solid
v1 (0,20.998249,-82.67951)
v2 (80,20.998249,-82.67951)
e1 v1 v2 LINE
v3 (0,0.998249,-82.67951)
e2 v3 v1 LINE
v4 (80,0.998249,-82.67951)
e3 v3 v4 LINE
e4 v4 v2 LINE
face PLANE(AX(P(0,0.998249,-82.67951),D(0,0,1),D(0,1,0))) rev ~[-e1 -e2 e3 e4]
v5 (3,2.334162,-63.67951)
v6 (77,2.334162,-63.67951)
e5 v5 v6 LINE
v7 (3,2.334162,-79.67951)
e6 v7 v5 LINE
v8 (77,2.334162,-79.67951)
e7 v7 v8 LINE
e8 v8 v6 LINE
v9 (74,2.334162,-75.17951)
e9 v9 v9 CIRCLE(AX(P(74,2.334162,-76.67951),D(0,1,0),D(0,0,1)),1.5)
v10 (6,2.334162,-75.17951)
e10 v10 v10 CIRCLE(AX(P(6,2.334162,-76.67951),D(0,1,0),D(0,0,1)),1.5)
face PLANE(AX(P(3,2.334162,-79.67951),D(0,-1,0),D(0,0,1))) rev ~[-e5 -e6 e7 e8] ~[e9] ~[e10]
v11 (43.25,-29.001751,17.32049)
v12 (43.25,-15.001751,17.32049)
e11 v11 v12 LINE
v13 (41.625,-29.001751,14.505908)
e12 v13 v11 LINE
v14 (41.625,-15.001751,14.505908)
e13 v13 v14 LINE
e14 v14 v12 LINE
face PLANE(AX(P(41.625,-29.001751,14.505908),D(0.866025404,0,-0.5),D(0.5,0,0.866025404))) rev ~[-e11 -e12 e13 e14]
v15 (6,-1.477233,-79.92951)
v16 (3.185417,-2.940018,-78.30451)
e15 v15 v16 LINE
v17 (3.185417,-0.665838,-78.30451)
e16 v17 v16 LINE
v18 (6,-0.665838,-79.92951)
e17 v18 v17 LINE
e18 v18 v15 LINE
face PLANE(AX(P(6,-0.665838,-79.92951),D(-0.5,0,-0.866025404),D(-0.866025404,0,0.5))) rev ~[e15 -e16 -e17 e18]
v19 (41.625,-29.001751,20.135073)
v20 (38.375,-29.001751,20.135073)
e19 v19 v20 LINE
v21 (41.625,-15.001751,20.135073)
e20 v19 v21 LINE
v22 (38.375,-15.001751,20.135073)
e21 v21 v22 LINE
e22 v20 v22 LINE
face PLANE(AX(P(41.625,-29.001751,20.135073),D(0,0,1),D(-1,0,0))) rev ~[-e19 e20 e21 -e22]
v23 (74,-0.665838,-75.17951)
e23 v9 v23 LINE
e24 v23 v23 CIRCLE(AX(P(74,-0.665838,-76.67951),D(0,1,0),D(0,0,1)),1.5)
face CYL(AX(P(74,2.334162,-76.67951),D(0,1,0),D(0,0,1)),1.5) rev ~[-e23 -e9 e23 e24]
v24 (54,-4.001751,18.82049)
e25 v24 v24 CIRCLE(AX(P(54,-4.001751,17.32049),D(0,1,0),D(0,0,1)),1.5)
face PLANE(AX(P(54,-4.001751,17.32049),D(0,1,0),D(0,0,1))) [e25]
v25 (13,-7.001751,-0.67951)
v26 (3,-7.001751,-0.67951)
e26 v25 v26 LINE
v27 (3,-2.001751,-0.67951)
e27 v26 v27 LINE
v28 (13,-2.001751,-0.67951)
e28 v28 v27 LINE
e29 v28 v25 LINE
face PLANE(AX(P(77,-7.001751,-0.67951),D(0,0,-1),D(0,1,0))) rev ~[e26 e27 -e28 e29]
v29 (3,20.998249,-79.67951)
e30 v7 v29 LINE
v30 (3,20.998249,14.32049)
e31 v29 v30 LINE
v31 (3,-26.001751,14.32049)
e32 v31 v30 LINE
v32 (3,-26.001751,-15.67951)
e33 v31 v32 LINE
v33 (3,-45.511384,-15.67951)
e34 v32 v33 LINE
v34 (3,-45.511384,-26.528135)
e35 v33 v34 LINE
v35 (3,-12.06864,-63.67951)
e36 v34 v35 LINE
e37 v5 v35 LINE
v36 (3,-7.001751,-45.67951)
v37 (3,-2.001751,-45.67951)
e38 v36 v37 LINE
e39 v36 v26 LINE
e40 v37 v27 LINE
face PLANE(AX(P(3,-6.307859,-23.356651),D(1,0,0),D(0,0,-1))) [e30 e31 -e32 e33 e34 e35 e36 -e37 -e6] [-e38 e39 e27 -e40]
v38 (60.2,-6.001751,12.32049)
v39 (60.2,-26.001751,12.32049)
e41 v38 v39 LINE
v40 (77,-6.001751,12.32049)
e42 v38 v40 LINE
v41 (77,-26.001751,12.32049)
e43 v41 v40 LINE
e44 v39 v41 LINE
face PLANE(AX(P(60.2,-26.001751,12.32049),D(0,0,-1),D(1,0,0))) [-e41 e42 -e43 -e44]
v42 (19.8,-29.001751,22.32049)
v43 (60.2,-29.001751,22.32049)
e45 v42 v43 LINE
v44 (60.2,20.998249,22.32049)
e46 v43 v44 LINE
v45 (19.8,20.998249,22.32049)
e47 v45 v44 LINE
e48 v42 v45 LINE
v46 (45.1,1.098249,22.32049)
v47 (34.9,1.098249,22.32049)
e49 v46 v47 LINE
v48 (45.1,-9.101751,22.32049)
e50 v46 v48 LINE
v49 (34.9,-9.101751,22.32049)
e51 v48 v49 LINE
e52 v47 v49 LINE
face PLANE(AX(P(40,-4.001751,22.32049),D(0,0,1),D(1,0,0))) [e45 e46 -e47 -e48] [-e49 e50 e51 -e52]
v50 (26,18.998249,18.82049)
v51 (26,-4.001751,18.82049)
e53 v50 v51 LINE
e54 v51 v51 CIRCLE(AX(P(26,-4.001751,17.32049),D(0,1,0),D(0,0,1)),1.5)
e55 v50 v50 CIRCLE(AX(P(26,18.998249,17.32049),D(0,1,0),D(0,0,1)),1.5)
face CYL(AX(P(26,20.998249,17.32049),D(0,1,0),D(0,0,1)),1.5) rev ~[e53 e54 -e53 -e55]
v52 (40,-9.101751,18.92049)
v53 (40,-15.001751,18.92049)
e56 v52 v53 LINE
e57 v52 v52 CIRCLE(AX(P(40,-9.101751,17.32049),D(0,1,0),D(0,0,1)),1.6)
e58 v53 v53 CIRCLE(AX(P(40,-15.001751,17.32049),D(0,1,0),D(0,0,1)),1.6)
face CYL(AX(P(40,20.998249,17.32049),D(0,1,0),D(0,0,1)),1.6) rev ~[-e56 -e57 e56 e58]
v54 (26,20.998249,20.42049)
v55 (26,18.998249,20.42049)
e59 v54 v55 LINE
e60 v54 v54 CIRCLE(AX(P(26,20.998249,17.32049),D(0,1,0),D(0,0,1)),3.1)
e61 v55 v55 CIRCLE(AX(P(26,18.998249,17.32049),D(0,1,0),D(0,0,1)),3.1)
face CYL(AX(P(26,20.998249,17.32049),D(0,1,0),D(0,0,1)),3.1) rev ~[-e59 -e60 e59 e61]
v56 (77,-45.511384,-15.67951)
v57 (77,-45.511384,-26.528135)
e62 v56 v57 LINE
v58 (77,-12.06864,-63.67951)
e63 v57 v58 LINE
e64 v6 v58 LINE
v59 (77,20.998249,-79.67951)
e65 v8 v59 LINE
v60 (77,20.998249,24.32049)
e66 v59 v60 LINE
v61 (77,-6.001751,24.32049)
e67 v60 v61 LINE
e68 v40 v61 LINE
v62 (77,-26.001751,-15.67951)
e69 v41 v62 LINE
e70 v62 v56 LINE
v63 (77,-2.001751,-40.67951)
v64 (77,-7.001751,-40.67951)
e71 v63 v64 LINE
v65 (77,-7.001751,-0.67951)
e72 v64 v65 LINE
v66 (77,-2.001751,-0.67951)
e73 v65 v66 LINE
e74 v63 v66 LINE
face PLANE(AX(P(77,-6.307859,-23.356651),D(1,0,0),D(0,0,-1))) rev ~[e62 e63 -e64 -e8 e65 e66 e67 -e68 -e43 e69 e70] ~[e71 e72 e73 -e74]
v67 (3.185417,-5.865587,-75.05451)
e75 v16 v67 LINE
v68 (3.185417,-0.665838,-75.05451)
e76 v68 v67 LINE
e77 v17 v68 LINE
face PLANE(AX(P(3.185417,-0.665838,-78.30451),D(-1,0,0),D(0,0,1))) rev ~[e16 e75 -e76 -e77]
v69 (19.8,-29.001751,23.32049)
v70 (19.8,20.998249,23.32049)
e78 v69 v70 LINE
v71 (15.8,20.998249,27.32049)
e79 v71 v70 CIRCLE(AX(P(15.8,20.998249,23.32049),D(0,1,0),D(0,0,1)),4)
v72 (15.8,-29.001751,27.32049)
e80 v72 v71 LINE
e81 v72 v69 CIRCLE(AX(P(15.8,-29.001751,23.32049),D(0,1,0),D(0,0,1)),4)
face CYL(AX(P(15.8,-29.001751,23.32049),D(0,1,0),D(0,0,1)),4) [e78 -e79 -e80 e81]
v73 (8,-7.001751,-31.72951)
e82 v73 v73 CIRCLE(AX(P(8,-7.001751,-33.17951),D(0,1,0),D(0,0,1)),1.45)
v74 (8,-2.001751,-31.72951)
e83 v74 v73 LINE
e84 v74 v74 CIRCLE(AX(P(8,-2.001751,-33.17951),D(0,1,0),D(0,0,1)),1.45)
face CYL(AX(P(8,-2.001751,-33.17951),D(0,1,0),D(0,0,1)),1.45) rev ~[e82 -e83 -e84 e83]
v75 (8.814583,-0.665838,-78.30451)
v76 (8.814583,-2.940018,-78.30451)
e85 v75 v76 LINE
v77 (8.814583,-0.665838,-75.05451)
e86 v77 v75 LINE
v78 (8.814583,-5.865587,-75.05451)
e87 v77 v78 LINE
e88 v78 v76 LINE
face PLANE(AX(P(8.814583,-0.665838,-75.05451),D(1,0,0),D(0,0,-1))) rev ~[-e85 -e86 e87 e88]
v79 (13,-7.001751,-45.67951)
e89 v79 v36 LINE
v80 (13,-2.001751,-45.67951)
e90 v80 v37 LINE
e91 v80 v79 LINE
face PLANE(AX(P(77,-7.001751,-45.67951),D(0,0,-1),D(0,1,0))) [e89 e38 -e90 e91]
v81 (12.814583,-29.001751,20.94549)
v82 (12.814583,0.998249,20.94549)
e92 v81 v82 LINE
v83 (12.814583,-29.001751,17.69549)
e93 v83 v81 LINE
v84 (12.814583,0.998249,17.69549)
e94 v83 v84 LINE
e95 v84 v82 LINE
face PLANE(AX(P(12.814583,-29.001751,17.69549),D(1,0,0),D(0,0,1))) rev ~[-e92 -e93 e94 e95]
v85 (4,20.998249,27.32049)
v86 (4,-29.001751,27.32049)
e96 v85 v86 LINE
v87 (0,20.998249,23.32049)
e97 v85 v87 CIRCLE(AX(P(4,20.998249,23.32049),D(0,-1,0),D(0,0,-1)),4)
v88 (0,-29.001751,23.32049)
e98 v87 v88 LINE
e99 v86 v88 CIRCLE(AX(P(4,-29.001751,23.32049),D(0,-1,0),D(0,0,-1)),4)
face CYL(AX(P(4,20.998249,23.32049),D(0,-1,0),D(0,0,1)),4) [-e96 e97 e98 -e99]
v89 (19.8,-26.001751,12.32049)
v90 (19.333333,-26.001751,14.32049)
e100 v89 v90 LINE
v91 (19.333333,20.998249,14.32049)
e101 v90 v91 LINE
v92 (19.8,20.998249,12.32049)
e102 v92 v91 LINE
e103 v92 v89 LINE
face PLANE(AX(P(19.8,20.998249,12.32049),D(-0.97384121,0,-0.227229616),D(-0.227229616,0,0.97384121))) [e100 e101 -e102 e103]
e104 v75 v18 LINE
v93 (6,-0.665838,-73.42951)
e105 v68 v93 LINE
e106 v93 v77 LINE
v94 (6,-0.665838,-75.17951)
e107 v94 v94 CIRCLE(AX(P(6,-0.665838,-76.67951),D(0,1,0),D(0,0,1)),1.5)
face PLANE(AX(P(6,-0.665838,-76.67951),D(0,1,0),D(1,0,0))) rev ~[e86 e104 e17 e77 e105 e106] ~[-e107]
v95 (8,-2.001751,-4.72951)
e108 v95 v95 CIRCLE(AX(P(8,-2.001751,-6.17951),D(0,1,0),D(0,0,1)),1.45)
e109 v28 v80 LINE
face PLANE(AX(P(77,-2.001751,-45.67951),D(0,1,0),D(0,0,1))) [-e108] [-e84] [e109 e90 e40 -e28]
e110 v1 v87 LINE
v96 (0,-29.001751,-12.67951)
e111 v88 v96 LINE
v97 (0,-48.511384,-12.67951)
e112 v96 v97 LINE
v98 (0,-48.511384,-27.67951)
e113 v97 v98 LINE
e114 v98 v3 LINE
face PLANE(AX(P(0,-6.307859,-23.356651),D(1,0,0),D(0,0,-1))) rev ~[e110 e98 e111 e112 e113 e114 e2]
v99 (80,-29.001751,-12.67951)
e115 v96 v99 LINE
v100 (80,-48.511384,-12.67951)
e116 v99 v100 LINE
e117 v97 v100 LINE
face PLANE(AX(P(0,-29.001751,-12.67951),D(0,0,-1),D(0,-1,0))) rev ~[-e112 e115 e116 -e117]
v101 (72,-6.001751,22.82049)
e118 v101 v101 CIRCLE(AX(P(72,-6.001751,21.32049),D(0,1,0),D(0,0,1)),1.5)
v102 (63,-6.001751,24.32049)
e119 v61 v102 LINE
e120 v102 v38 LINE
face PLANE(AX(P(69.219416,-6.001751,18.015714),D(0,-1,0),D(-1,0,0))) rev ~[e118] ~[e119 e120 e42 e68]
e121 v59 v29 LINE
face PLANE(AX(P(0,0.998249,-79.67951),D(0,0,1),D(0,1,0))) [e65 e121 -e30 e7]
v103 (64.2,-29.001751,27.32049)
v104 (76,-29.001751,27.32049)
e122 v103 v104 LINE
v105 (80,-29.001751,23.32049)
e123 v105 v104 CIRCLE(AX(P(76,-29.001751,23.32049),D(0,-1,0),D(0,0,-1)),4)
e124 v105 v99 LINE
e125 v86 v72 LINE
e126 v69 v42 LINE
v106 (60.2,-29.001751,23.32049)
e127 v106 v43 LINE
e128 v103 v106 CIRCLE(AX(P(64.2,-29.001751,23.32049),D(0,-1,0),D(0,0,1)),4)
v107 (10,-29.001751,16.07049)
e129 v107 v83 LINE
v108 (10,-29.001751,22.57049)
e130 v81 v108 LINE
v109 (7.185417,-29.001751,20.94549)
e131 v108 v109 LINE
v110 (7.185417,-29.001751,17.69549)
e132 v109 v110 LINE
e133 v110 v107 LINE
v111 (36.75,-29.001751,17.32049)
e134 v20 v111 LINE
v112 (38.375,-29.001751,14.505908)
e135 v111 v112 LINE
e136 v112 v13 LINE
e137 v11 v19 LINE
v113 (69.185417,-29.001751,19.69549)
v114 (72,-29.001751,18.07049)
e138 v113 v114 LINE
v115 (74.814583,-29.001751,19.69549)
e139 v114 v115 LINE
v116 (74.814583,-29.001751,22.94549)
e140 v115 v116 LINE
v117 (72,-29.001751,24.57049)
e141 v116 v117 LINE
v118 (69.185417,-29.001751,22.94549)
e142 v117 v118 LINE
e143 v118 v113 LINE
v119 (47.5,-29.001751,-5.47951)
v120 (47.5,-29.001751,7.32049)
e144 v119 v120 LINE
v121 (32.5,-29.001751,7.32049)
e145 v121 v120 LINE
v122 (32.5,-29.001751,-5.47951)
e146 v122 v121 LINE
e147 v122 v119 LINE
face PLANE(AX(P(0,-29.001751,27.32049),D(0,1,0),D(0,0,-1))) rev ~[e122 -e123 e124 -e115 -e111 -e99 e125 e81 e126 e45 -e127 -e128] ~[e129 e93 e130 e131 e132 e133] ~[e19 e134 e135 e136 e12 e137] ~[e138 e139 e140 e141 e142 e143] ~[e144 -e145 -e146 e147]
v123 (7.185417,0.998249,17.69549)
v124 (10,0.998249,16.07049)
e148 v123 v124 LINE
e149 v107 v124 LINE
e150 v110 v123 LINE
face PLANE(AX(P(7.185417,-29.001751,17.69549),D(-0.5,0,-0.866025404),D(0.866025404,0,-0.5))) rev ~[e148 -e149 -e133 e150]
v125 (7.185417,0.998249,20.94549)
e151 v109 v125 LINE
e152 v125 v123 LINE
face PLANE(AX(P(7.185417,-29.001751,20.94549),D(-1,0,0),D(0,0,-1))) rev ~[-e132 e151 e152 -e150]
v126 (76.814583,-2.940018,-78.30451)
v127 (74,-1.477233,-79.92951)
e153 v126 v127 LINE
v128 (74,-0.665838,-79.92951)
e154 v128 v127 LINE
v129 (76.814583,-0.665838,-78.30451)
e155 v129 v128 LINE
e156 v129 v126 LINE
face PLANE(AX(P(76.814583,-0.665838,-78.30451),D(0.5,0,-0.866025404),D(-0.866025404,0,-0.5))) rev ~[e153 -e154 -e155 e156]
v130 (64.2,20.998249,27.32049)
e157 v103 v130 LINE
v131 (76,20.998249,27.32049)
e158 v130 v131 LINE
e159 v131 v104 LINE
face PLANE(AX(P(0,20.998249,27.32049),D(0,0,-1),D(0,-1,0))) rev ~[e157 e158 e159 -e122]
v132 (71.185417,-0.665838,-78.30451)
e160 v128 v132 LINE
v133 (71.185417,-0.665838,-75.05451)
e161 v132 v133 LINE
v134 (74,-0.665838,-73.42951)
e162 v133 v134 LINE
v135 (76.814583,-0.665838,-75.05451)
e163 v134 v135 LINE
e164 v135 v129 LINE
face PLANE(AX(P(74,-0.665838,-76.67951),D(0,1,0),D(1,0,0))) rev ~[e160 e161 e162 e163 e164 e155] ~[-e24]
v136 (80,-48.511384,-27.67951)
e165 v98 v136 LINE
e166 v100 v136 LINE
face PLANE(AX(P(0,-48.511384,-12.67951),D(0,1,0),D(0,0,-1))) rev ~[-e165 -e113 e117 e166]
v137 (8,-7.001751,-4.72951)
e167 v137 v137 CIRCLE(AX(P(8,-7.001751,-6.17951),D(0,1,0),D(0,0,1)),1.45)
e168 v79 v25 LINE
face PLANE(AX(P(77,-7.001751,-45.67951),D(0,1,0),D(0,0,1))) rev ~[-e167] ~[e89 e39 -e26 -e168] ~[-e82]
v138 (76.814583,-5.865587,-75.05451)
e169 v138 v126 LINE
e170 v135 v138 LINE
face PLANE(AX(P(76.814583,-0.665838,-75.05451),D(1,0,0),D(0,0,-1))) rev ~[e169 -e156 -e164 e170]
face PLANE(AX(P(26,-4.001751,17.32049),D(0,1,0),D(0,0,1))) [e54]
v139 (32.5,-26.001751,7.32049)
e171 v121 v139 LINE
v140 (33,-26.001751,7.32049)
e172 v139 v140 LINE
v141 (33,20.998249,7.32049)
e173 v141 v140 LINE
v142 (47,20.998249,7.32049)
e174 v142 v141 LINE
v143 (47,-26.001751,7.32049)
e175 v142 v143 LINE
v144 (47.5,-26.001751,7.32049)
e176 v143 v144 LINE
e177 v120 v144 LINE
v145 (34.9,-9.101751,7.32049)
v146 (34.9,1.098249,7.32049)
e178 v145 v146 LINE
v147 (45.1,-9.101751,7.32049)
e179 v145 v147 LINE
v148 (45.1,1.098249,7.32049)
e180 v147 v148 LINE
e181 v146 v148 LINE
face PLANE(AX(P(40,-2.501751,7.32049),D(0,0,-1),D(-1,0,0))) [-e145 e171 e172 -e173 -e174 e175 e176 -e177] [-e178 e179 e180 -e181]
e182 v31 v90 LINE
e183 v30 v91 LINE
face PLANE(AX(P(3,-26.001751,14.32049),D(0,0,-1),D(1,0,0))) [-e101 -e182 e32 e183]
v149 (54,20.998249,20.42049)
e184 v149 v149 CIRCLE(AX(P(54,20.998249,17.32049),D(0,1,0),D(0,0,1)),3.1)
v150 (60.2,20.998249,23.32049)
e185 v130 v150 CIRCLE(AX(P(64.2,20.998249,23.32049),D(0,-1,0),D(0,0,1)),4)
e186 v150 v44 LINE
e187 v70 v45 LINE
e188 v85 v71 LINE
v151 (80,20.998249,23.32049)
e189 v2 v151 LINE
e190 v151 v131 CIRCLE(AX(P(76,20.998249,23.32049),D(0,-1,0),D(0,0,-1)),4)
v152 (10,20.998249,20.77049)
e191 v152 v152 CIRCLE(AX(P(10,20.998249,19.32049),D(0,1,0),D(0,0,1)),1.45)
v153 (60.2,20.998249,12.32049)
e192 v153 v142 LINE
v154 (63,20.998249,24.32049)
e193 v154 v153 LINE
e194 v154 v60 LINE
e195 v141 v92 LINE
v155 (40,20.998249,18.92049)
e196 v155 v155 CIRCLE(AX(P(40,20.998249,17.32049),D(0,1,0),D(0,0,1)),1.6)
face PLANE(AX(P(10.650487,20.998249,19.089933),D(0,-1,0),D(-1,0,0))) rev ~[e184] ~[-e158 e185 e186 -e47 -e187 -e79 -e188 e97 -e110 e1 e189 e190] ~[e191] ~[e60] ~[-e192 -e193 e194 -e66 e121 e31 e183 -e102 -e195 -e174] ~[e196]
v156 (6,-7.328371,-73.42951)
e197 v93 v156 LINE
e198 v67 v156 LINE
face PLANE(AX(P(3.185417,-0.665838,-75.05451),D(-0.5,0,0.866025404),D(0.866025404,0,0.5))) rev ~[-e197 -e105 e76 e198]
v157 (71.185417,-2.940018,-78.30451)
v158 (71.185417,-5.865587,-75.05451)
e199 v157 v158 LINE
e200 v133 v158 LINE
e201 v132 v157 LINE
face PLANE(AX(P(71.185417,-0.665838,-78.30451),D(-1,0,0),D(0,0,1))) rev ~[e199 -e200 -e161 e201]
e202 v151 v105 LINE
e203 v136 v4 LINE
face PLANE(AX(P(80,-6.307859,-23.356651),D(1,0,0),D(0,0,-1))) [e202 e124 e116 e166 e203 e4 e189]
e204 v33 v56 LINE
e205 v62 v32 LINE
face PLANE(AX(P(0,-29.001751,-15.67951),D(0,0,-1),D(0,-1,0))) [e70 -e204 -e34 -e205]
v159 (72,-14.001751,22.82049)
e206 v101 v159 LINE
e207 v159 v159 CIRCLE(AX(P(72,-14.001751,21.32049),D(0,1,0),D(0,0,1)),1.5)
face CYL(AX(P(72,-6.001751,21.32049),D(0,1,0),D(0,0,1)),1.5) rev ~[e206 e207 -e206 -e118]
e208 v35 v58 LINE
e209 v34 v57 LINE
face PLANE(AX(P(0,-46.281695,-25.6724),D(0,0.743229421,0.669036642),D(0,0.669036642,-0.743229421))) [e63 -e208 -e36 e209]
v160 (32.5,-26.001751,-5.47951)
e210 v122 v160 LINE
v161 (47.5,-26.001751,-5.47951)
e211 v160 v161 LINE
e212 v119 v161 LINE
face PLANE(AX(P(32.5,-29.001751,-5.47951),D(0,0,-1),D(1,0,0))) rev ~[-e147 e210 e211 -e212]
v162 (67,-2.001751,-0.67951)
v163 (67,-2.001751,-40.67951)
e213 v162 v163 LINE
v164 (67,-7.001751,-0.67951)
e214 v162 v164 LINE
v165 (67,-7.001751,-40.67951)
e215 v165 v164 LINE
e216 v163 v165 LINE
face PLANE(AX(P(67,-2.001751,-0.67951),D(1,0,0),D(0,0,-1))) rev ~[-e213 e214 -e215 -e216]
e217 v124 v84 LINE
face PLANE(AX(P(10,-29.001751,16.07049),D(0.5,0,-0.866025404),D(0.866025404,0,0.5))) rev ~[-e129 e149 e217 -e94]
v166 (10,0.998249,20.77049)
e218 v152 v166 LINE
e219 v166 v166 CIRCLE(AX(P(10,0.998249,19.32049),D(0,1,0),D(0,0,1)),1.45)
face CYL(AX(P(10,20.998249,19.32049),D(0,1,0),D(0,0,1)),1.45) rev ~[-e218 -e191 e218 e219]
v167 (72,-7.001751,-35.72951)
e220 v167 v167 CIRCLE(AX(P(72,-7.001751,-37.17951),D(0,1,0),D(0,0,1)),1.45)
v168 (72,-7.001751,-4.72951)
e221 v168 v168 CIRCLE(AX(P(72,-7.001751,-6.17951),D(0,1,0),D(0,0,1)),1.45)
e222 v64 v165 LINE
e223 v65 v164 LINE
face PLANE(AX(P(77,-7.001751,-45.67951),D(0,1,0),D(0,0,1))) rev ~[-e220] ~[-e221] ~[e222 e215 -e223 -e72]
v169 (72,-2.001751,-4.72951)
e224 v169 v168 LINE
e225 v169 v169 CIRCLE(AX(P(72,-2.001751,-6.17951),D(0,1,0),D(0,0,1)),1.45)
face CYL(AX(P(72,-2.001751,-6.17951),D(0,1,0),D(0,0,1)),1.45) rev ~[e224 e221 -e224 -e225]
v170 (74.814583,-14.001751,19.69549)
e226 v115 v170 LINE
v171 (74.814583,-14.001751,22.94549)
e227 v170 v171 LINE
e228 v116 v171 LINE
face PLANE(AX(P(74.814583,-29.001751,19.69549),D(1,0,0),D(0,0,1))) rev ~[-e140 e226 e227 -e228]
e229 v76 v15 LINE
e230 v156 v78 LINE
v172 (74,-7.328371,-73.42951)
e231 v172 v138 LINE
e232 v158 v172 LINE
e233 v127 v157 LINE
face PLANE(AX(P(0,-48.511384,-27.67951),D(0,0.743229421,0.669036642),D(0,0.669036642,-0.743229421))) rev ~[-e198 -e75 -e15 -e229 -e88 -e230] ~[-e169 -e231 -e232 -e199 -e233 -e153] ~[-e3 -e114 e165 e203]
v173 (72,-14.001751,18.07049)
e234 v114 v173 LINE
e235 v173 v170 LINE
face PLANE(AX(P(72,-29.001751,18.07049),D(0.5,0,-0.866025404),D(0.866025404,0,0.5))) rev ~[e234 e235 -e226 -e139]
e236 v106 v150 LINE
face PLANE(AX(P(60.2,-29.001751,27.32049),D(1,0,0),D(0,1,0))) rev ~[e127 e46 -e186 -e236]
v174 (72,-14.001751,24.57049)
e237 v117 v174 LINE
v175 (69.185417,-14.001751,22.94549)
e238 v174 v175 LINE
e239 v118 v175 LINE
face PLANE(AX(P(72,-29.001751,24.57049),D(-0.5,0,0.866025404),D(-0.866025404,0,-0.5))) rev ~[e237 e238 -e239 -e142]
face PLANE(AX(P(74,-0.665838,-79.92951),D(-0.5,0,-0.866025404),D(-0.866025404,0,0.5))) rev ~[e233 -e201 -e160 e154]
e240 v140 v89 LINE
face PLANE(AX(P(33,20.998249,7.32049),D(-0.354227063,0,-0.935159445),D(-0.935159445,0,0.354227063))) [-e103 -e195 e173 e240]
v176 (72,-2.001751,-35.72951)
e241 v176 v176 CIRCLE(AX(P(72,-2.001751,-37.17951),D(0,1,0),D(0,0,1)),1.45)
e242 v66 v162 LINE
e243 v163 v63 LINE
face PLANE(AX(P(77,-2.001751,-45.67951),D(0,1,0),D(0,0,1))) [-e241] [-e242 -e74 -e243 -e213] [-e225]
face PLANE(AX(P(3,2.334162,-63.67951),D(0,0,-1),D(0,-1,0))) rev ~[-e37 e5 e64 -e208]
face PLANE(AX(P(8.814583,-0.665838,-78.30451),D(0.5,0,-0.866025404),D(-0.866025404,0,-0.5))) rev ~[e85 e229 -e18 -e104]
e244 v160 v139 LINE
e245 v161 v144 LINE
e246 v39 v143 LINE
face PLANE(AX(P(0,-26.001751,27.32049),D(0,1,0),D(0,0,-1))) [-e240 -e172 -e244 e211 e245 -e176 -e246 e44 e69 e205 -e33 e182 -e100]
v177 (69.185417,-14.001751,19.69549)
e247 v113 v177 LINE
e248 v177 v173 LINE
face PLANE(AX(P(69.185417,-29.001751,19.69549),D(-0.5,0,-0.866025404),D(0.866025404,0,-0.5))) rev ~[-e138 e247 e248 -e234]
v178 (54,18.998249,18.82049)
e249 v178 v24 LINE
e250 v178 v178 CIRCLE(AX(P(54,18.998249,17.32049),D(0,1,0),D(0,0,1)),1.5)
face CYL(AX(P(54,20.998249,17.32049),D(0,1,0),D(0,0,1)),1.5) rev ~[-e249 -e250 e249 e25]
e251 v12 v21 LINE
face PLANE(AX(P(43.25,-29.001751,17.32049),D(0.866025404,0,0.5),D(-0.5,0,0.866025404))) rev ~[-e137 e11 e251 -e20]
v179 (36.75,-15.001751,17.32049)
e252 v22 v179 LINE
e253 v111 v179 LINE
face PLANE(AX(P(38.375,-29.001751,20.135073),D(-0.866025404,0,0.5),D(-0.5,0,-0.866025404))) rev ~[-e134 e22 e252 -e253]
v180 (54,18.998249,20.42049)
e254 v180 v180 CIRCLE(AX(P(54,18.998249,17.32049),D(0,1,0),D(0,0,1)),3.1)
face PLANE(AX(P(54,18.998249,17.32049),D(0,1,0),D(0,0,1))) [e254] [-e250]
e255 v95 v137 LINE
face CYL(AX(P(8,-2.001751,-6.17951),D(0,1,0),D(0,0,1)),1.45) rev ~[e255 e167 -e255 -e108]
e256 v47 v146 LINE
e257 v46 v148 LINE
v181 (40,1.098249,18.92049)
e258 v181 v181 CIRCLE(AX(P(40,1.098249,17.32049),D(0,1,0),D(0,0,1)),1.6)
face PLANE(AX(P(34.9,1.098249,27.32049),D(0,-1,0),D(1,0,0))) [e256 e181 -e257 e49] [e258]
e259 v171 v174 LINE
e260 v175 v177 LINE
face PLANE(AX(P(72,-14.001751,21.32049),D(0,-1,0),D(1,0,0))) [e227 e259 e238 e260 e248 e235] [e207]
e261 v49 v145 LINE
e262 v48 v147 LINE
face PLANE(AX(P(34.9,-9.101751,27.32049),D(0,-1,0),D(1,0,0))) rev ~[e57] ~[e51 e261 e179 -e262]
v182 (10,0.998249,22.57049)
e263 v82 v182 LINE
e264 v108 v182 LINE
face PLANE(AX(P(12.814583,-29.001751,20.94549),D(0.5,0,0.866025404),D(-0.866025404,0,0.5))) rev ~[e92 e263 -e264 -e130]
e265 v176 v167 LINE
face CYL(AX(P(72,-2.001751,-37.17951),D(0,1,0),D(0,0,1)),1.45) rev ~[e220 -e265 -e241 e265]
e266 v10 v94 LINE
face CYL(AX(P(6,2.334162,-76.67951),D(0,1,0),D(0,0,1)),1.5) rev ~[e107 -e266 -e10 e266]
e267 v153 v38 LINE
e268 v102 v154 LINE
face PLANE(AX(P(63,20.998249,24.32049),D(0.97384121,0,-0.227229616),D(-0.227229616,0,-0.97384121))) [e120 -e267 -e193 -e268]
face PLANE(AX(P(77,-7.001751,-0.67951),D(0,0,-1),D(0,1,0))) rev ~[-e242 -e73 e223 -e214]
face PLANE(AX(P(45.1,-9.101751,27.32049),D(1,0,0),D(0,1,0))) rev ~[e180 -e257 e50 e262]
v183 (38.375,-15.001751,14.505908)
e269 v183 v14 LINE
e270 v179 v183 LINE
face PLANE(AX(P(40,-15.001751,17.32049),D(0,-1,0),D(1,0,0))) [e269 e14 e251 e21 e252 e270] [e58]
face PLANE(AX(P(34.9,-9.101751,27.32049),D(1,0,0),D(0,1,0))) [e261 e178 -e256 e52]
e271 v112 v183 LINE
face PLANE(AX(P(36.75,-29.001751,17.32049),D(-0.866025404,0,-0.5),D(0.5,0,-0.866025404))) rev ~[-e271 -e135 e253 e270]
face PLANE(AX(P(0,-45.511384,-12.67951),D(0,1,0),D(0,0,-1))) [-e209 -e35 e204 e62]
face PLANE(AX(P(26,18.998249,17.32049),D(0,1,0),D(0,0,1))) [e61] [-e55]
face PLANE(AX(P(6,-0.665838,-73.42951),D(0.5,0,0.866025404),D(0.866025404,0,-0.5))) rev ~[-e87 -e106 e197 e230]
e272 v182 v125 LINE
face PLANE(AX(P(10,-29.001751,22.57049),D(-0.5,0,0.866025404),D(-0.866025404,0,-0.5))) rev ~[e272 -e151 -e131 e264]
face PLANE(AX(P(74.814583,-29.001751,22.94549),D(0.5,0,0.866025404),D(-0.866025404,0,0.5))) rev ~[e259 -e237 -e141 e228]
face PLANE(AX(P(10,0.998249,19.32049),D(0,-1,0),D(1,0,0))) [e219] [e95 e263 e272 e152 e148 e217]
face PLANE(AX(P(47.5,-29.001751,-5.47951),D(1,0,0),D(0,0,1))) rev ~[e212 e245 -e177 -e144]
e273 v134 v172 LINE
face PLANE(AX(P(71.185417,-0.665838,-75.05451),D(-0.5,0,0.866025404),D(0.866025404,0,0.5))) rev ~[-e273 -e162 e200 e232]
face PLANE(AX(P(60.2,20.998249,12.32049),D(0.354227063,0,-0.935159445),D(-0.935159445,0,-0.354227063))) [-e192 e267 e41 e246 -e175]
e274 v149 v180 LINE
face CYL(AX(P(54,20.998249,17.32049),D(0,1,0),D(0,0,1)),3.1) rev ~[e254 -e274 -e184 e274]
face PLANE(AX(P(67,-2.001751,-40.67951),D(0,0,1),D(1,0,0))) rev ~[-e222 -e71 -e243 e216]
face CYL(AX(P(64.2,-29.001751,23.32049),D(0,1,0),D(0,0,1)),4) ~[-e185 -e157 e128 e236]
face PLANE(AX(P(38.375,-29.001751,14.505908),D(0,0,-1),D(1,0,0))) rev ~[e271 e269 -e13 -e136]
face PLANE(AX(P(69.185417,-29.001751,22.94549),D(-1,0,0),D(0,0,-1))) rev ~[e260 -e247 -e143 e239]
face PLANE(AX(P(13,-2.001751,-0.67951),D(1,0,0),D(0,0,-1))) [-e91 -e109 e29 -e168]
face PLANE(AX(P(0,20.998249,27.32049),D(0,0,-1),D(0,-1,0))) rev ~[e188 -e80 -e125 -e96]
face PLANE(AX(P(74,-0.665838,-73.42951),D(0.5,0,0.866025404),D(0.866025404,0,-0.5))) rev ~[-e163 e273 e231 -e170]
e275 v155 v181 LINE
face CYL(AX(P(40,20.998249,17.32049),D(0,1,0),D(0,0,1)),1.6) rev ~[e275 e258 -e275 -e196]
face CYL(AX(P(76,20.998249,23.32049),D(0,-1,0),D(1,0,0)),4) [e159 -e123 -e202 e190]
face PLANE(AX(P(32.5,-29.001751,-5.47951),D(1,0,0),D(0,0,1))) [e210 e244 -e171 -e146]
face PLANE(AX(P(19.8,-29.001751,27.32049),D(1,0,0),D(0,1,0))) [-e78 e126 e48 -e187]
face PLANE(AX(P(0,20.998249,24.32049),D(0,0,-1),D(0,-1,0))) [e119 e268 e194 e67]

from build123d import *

# Parameters (mm, degrees)
BOSS_EXTRUDE1_DEPTH = 80
SHELL1_T            = -3
SKETCH3_W           = 46
SKETCH3_H           = 47
BOSS_EXTRUDE2_DEPTH = 17
SKETCH4_W           = 10.2
SKETCH4_H           = 10.2
CUT_EXTRUDE1_DEPTH  = 20
SKETCH6_W           = 15
SKETCH6_H           = 12.8
CUT_EXTRUDE2_DEPTH  = 3
SKETCH7_W           = 40.4
SKETCH7_H           = 50
CUT_EXTRUDE3_DEPTH  = 5
FILLET1_R           = 4
CUT_EXTRUDE7_DEPTH  = 47
SKETCH13_R          = 1.5
CUT_EXTRUDE8_DEPTH  = 25
SKETCH14_R          = 3.1
CUT_EXTRUDE9_DEPTH  = 2
SKETCH17_W          = 45
SKETCH17_H          = 5
BOSS_EXTRUDE5_DEPTH = 74
CUT_EXTRUDE10_REACH = 126.093
SKETCH18_W          = 54
SKETCH18_H          = 45
CUT_EXTRUDE11_REACH = 126.093
SKETCH19_R          = 1.45
BOSS_EXTRUDE6_DEPTH = 47
SKETCH22_R          = 1.45
CUT_EXTRUDE12_DEPTH = 135.415364765
BOSS_EXTRUDE7_DEPTH = 74
SKETCH27_R          = 1.5
CUT_EXTRUDE14_DEPTH = 10
CUT_EXTRUDE15_START = -3
CUT_EXTRUDE15_DEPTH = 32
CUT_EXTRUDE16_DEPTH = 30
BOSS_EXTRUDE8_DEPTH = 20
SKETCH31_R          = 1.5
CUT_EXTRUDE17_DEPTH = 123.649786567
CUT_EXTRUDE18_DEPTH = 15
CUT_EXTRUDE19_REACH = 126.093
SKETCH33_W          = 10
SKETCH33_H          = 5
SKETCH34_R          = 1.6
CUT_EXTRUDE20_DEPTH = 135.415364765
CUT_EXTRUDE22_DEPTH = 14


with BuildPart() as part:
    # Sketch2 → Boss-Extrude1 (new body)
    with BuildSketch(Plane(origin=(0, 0, 0), x_dir=(0, 0, -1), z_dir=(1, 0, 0))):
        Polygon((-27.320490368, 20.998248687), (-27.320490368, -29.001751313), (12.679509632, -29.001751313), (12.679509632, -48.511383538), (27.679509632, -48.511383538), (82.679509632, 0.998248687), (82.679509632, 20.998248687), align=None)
    extrude(amount=BOSS_EXTRUDE1_DEPTH)

    # Shell1
    shell1_openings = [part.faces().sort_by_distance(p)[0] for p in [
        (40, 20.998248687, -27.679509632),
    ]]
    offset(amount=SHELL1_T, openings=shell1_openings, kind=Kind.INTERSECTION)

    # Sketch3 → Boss-Extrude2 (add)
    with BuildSketch(Plane(origin=(0, 0, 24.320490368), x_dir=(-1, 0, 0), z_dir=(0, 0, -1))):
        with Locations((-40, -2.501751313)):
            Rectangle(SKETCH3_W, SKETCH3_H)
    extrude(amount=BOSS_EXTRUDE2_DEPTH)

    # Sketch4 → Cut-Extrude1 (cut)
    with BuildSketch(Plane.XY.offset(27.320490368)):
        with Locations((40, -4.001751313)):
            Rectangle(SKETCH4_W, SKETCH4_H)
    extrude(amount=-CUT_EXTRUDE1_DEPTH, mode=Mode.SUBTRACT)

    # Sketch6 → Cut-Extrude2 (cut)
    with BuildSketch(Plane.XZ.offset(29.001751313)):
        with Locations((40, 0.920490368)):
            Rectangle(SKETCH6_W, SKETCH6_H)
    extrude(amount=-CUT_EXTRUDE2_DEPTH, mode=Mode.SUBTRACT)

    # Sketch7 → Cut-Extrude3 (cut)
    with BuildSketch(Plane.XY.offset(27.320490368)):
        with Locations((40, -4.001751313)):
            Rectangle(SKETCH7_W, SKETCH7_H)
    extrude(amount=-CUT_EXTRUDE3_DEPTH, mode=Mode.SUBTRACT)

    # Fillet1
    fillet1_edges = [part.edges().sort_by_distance(p)[0] for p in [
        (80, -4.001751313, 27.320490368),
        (19.8, -4.001751313, 27.320490368),
        (0, -4.001751313, 27.320490368),
        (60.2, -4.001751313, 27.320490368),
    ]]
    fillet(fillet1_edges, radius=FILLET1_R)

    # Sketch12 → Cut-Extrude7 (cut)
    with BuildSketch(Plane(origin=(0, 20.998248687, 0), x_dir=(1, 0, 0), z_dir=(0, 1, 0))):
        Polygon((33, -7.320490368), (19.8, -12.320490368), (17, -24.320490368), (17, -7.320490368), align=None)
        Polygon((47, -7.320490368), (63, -7.320490368), (63, -24.320490368), (60.2, -12.320490368), align=None)
    extrude(amount=-CUT_EXTRUDE7_DEPTH, mode=Mode.SUBTRACT)

    # Sketch13 → Cut-Extrude8 (cut)
    with BuildSketch(Plane(origin=(0, 20.998248687, 0), x_dir=(1, 0, 0), z_dir=(0, 1, 0))):
        with Locations(Location((26, -17.320490368, 0), (0, 0, 270))):
            Circle(SKETCH13_R)
        with Locations(Location((54, -17.320490368, 0), (0, 0, 270))):
            Circle(SKETCH13_R)
    extrude(amount=-CUT_EXTRUDE8_DEPTH, mode=Mode.SUBTRACT)

    # Sketch14 → Cut-Extrude9 (cut)
    with BuildSketch(Plane(origin=(0, 20.998248687, 0), x_dir=(1, 0, 0), z_dir=(0, 1, 0))):
        with Locations(Location((26, -17.320490368, 0), (0, 0, 270))):
            Circle(SKETCH14_R)
        with Locations(Location((54, -17.320490368, 0), (0, 0, 270))):
            Circle(SKETCH14_R)
    extrude(amount=-CUT_EXTRUDE9_DEPTH, mode=Mode.SUBTRACT)

    # Sketch17 → Boss-Extrude5 (add)
    with BuildSketch(Plane.ZY.offset(-77)):
        with Locations((-23.179509632, -4.501751313)):
            Rectangle(SKETCH17_W, SKETCH17_H)
    extrude(amount=BOSS_EXTRUDE5_DEPTH)

    # Sketch18 → Cut-Extrude10 (cut, up to next)
    with BuildSketch(Plane(origin=(0, -2.001751313, 0), x_dir=(1, 0, 0), z_dir=(0, 1, 0)), mode=Mode.PRIVATE) as cut_extrude10_sk1:
        with Locations((40, 23.179509632)):
            Rectangle(SKETCH18_W, SKETCH18_H)
    cut_extrude10_tool1 = extrude(cut_extrude10_sk1.sketch, amount=-CUT_EXTRUDE10_REACH, mode=Mode.PRIVATE) & part.part
    add(cut_extrude10_tool1.solids().sort_by_distance((40, -2.001751, -23.17951))[0], mode=Mode.SUBTRACT)

    # Sketch19 → Cut-Extrude11 (cut, up to next)
    with BuildSketch(Plane(origin=(0, -2.001751313, 0), x_dir=(1, 0, 0), z_dir=(0, 1, 0)), mode=Mode.PRIVATE) as cut_extrude11_sk1:
        with Locations(Location((72, 37.179509632, 0), (0, 0, 270))):
            Circle(SKETCH19_R)
    cut_extrude11_tool1 = extrude(cut_extrude11_sk1.sketch, amount=-CUT_EXTRUDE11_REACH, mode=Mode.PRIVATE) & part.part
    # Sketch19 → Cut-Extrude11 (cut, up to next)
    with BuildSketch(Plane(origin=(0, -2.001751313, 0), x_dir=(1, 0, 0), z_dir=(0, 1, 0)), mode=Mode.PRIVATE) as cut_extrude11_sk2:
        with Locations(Location((72, 6.179509632, 0), (0, 0, 270))):
            Circle(SKETCH19_R)
    cut_extrude11_tool2 = extrude(cut_extrude11_sk2.sketch, amount=-CUT_EXTRUDE11_REACH, mode=Mode.PRIVATE) & part.part
    # Sketch19 → Cut-Extrude11 (cut, up to next)
    with BuildSketch(Plane(origin=(0, -2.001751313, 0), x_dir=(1, 0, 0), z_dir=(0, 1, 0)), mode=Mode.PRIVATE) as cut_extrude11_sk3:
        with Locations(Location((8, 33.179509632, 0), (0, 0, 270))):
            Circle(SKETCH19_R)
    cut_extrude11_tool3 = extrude(cut_extrude11_sk3.sketch, amount=-CUT_EXTRUDE11_REACH, mode=Mode.PRIVATE) & part.part
    # Sketch19 → Cut-Extrude11 (cut, up to next)
    with BuildSketch(Plane(origin=(0, -2.001751313, 0), x_dir=(1, 0, 0), z_dir=(0, 1, 0)), mode=Mode.PRIVATE) as cut_extrude11_sk4:
        with Locations(Location((8, 6.179509632, 0), (0, 0, 270))):
            Circle(SKETCH19_R)
    cut_extrude11_tool4 = extrude(cut_extrude11_sk4.sketch, amount=-CUT_EXTRUDE11_REACH, mode=Mode.PRIVATE) & part.part
    add(cut_extrude11_tool1.solids().sort_by_distance((72, -2.001751, -37.17951))[0], mode=Mode.SUBTRACT)
    add(cut_extrude11_tool2.solids().sort_by_distance((72, -2.001751, -6.17951))[0], mode=Mode.SUBTRACT)
    add(cut_extrude11_tool3.solids().sort_by_distance((8, -2.001751, -33.17951))[0], mode=Mode.SUBTRACT)
    add(cut_extrude11_tool4.solids().sort_by_distance((8, -2.001751, -6.17951))[0], mode=Mode.SUBTRACT)

    # Sketch21 → Boss-Extrude6 (add)
    with BuildSketch(Plane(origin=(0, -26.001751313, 0), x_dir=(1, 0, 0), z_dir=(0, 1, 0))):
        Polygon((3, -24.320490368), (3, -14.320490368), (19.333333333, -14.320490368), (17, -24.320490368), align=None)
    extrude(amount=BOSS_EXTRUDE6_DEPTH)

    # Sketch22 → Cut-Extrude12 (cut, through all)
    with BuildSketch(Plane(origin=(0, 20.998248687, 0), x_dir=(1, 0, 0), z_dir=(0, 1, 0))):
        with Locations(Location((10, -19.320490368, 0), (0, 0, 270))):
            Circle(SKETCH22_R)
    extrude(amount=-CUT_EXTRUDE12_DEPTH, mode=Mode.SUBTRACT)

    # Sketch26 → Boss-Extrude7 (add)
    with BuildSketch(Plane(origin=(3, 0, 0), x_dir=(0, 0, -1), z_dir=(1, 0, 0))):
        Polygon((79.679509632, 2.334161996), (63.679509632, 2.334161996), (63.679509632, -12.068640106), align=None)
    extrude(amount=BOSS_EXTRUDE7_DEPTH)

    # Sketch27 → Cut-Extrude14 (cut)
    with BuildSketch(Plane(origin=(0, 2.334161996, 0), x_dir=(1, 0, 0), z_dir=(0, 1, 0))):
        with Locations(Location((6, 76.679509632, 0), (0, 0, 270))):
            Circle(SKETCH27_R)
        with Locations(Location((74, 76.679509632, 0), (0, 0, 270))):
            Circle(SKETCH27_R)
    extrude(amount=-CUT_EXTRUDE14_DEPTH, mode=Mode.SUBTRACT)

    # Sketch28 → Cut-Extrude15 (cut)
    with BuildSketch(Plane(origin=(0, 2.334161996, 0), x_dir=(1, 0, 0), z_dir=(0, 1, 0)).offset(CUT_EXTRUDE15_START)):
        Polygon((74, 79.929509632), (71.185417438, 78.304509632), (71.185417438, 75.054509632), (74, 73.429509632), (76.814582562, 75.054509632), (76.814582562, 78.304509632), align=None)
        Polygon((6, 73.429509632), (8.814582562, 75.054509632), (8.814582562, 78.304509632), (6, 79.929509632), (3.185417438, 78.304509632), (3.185417438, 75.054509632), align=None)
    extrude(amount=-CUT_EXTRUDE15_DEPTH, mode=Mode.SUBTRACT)

    # Sketch29 → Cut-Extrude16 (cut)
    with BuildSketch(Plane.XZ.offset(29.001751313)):
        Polygon((7.185417438, 17.695490368), (10, 16.070490368), (12.814582562, 17.695490368), (12.814582562, 20.945490368), (10, 22.570490368), (7.185417438, 20.945490368), align=None)
    extrude(amount=-CUT_EXTRUDE16_DEPTH, mode=Mode.SUBTRACT)

    # Sketch30 → Boss-Extrude8 (add)
    with BuildSketch(Plane(origin=(0, -26.001751313, 0), x_dir=(1, 0, 0), z_dir=(0, 1, 0))):
        Polygon((77, -24.320490368), (63, -24.320490368), (60.2, -12.320490368), (77, -12.320490368), align=None)
    extrude(amount=BOSS_EXTRUDE8_DEPTH)

    # Sketch31 → Cut-Extrude17 (cut, through all)
    with BuildSketch(Plane(origin=(0, -6.001751313, 0), x_dir=(1, 0, 0), z_dir=(0, 1, 0))):
        with Locations(Location((72, -21.320490368, 0), (0, 0, 270))):
            Circle(SKETCH31_R)
    extrude(amount=-CUT_EXTRUDE17_DEPTH, mode=Mode.SUBTRACT)

    # Sketch32 → Cut-Extrude18 (cut)
    with BuildSketch(Plane.XZ.offset(29.001751313)):
        Polygon((72, 24.570490368), (69.185417438, 22.945490368), (69.185417438, 19.695490368), (72, 18.070490368), (74.814582562, 19.695490368), (74.814582562, 22.945490368), align=None)
    extrude(amount=-CUT_EXTRUDE18_DEPTH, mode=Mode.SUBTRACT)

    # Sketch33 → Cut-Extrude19 (cut, up to next)
    with BuildSketch(Plane(origin=(0, -2.001751313, 0), x_dir=(1, 0, 0), z_dir=(0, 1, 0)), mode=Mode.PRIVATE) as cut_extrude19_sk1:
        with Locations((72, 43.179509632)):
            Rectangle(SKETCH33_W, SKETCH33_H)
    cut_extrude19_tool1 = extrude(cut_extrude19_sk1.sketch, amount=-CUT_EXTRUDE19_REACH, mode=Mode.PRIVATE) & part.part
    add(cut_extrude19_tool1.solids().sort_by_distance((72, -2.001751, -43.17951))[0], mode=Mode.SUBTRACT)

    # Sketch34 → Cut-Extrude20 (cut, through all)
    with BuildSketch(Plane(origin=(0, 20.998248687, 0), x_dir=(1, 0, 0), z_dir=(0, 1, 0))):
        with Locations(Location((40, -17.320490368, 0), (0, 0, 270))):
            Circle(SKETCH34_R)
    extrude(amount=-CUT_EXTRUDE20_DEPTH, mode=Mode.SUBTRACT)

    # Sketch36 → Cut-Extrude22 (cut)
    with BuildSketch(Plane.XZ.offset(29.001751313)):
        Polygon((38.375, 20.13507293), (36.75, 17.320490368), (38.375, 14.505907805), (41.625, 14.505907805), (43.25, 17.320490368), (41.625, 20.13507293), align=None)
    extrude(amount=-CUT_EXTRUDE22_DEPTH, mode=Mode.SUBTRACT)


solid = part.part
